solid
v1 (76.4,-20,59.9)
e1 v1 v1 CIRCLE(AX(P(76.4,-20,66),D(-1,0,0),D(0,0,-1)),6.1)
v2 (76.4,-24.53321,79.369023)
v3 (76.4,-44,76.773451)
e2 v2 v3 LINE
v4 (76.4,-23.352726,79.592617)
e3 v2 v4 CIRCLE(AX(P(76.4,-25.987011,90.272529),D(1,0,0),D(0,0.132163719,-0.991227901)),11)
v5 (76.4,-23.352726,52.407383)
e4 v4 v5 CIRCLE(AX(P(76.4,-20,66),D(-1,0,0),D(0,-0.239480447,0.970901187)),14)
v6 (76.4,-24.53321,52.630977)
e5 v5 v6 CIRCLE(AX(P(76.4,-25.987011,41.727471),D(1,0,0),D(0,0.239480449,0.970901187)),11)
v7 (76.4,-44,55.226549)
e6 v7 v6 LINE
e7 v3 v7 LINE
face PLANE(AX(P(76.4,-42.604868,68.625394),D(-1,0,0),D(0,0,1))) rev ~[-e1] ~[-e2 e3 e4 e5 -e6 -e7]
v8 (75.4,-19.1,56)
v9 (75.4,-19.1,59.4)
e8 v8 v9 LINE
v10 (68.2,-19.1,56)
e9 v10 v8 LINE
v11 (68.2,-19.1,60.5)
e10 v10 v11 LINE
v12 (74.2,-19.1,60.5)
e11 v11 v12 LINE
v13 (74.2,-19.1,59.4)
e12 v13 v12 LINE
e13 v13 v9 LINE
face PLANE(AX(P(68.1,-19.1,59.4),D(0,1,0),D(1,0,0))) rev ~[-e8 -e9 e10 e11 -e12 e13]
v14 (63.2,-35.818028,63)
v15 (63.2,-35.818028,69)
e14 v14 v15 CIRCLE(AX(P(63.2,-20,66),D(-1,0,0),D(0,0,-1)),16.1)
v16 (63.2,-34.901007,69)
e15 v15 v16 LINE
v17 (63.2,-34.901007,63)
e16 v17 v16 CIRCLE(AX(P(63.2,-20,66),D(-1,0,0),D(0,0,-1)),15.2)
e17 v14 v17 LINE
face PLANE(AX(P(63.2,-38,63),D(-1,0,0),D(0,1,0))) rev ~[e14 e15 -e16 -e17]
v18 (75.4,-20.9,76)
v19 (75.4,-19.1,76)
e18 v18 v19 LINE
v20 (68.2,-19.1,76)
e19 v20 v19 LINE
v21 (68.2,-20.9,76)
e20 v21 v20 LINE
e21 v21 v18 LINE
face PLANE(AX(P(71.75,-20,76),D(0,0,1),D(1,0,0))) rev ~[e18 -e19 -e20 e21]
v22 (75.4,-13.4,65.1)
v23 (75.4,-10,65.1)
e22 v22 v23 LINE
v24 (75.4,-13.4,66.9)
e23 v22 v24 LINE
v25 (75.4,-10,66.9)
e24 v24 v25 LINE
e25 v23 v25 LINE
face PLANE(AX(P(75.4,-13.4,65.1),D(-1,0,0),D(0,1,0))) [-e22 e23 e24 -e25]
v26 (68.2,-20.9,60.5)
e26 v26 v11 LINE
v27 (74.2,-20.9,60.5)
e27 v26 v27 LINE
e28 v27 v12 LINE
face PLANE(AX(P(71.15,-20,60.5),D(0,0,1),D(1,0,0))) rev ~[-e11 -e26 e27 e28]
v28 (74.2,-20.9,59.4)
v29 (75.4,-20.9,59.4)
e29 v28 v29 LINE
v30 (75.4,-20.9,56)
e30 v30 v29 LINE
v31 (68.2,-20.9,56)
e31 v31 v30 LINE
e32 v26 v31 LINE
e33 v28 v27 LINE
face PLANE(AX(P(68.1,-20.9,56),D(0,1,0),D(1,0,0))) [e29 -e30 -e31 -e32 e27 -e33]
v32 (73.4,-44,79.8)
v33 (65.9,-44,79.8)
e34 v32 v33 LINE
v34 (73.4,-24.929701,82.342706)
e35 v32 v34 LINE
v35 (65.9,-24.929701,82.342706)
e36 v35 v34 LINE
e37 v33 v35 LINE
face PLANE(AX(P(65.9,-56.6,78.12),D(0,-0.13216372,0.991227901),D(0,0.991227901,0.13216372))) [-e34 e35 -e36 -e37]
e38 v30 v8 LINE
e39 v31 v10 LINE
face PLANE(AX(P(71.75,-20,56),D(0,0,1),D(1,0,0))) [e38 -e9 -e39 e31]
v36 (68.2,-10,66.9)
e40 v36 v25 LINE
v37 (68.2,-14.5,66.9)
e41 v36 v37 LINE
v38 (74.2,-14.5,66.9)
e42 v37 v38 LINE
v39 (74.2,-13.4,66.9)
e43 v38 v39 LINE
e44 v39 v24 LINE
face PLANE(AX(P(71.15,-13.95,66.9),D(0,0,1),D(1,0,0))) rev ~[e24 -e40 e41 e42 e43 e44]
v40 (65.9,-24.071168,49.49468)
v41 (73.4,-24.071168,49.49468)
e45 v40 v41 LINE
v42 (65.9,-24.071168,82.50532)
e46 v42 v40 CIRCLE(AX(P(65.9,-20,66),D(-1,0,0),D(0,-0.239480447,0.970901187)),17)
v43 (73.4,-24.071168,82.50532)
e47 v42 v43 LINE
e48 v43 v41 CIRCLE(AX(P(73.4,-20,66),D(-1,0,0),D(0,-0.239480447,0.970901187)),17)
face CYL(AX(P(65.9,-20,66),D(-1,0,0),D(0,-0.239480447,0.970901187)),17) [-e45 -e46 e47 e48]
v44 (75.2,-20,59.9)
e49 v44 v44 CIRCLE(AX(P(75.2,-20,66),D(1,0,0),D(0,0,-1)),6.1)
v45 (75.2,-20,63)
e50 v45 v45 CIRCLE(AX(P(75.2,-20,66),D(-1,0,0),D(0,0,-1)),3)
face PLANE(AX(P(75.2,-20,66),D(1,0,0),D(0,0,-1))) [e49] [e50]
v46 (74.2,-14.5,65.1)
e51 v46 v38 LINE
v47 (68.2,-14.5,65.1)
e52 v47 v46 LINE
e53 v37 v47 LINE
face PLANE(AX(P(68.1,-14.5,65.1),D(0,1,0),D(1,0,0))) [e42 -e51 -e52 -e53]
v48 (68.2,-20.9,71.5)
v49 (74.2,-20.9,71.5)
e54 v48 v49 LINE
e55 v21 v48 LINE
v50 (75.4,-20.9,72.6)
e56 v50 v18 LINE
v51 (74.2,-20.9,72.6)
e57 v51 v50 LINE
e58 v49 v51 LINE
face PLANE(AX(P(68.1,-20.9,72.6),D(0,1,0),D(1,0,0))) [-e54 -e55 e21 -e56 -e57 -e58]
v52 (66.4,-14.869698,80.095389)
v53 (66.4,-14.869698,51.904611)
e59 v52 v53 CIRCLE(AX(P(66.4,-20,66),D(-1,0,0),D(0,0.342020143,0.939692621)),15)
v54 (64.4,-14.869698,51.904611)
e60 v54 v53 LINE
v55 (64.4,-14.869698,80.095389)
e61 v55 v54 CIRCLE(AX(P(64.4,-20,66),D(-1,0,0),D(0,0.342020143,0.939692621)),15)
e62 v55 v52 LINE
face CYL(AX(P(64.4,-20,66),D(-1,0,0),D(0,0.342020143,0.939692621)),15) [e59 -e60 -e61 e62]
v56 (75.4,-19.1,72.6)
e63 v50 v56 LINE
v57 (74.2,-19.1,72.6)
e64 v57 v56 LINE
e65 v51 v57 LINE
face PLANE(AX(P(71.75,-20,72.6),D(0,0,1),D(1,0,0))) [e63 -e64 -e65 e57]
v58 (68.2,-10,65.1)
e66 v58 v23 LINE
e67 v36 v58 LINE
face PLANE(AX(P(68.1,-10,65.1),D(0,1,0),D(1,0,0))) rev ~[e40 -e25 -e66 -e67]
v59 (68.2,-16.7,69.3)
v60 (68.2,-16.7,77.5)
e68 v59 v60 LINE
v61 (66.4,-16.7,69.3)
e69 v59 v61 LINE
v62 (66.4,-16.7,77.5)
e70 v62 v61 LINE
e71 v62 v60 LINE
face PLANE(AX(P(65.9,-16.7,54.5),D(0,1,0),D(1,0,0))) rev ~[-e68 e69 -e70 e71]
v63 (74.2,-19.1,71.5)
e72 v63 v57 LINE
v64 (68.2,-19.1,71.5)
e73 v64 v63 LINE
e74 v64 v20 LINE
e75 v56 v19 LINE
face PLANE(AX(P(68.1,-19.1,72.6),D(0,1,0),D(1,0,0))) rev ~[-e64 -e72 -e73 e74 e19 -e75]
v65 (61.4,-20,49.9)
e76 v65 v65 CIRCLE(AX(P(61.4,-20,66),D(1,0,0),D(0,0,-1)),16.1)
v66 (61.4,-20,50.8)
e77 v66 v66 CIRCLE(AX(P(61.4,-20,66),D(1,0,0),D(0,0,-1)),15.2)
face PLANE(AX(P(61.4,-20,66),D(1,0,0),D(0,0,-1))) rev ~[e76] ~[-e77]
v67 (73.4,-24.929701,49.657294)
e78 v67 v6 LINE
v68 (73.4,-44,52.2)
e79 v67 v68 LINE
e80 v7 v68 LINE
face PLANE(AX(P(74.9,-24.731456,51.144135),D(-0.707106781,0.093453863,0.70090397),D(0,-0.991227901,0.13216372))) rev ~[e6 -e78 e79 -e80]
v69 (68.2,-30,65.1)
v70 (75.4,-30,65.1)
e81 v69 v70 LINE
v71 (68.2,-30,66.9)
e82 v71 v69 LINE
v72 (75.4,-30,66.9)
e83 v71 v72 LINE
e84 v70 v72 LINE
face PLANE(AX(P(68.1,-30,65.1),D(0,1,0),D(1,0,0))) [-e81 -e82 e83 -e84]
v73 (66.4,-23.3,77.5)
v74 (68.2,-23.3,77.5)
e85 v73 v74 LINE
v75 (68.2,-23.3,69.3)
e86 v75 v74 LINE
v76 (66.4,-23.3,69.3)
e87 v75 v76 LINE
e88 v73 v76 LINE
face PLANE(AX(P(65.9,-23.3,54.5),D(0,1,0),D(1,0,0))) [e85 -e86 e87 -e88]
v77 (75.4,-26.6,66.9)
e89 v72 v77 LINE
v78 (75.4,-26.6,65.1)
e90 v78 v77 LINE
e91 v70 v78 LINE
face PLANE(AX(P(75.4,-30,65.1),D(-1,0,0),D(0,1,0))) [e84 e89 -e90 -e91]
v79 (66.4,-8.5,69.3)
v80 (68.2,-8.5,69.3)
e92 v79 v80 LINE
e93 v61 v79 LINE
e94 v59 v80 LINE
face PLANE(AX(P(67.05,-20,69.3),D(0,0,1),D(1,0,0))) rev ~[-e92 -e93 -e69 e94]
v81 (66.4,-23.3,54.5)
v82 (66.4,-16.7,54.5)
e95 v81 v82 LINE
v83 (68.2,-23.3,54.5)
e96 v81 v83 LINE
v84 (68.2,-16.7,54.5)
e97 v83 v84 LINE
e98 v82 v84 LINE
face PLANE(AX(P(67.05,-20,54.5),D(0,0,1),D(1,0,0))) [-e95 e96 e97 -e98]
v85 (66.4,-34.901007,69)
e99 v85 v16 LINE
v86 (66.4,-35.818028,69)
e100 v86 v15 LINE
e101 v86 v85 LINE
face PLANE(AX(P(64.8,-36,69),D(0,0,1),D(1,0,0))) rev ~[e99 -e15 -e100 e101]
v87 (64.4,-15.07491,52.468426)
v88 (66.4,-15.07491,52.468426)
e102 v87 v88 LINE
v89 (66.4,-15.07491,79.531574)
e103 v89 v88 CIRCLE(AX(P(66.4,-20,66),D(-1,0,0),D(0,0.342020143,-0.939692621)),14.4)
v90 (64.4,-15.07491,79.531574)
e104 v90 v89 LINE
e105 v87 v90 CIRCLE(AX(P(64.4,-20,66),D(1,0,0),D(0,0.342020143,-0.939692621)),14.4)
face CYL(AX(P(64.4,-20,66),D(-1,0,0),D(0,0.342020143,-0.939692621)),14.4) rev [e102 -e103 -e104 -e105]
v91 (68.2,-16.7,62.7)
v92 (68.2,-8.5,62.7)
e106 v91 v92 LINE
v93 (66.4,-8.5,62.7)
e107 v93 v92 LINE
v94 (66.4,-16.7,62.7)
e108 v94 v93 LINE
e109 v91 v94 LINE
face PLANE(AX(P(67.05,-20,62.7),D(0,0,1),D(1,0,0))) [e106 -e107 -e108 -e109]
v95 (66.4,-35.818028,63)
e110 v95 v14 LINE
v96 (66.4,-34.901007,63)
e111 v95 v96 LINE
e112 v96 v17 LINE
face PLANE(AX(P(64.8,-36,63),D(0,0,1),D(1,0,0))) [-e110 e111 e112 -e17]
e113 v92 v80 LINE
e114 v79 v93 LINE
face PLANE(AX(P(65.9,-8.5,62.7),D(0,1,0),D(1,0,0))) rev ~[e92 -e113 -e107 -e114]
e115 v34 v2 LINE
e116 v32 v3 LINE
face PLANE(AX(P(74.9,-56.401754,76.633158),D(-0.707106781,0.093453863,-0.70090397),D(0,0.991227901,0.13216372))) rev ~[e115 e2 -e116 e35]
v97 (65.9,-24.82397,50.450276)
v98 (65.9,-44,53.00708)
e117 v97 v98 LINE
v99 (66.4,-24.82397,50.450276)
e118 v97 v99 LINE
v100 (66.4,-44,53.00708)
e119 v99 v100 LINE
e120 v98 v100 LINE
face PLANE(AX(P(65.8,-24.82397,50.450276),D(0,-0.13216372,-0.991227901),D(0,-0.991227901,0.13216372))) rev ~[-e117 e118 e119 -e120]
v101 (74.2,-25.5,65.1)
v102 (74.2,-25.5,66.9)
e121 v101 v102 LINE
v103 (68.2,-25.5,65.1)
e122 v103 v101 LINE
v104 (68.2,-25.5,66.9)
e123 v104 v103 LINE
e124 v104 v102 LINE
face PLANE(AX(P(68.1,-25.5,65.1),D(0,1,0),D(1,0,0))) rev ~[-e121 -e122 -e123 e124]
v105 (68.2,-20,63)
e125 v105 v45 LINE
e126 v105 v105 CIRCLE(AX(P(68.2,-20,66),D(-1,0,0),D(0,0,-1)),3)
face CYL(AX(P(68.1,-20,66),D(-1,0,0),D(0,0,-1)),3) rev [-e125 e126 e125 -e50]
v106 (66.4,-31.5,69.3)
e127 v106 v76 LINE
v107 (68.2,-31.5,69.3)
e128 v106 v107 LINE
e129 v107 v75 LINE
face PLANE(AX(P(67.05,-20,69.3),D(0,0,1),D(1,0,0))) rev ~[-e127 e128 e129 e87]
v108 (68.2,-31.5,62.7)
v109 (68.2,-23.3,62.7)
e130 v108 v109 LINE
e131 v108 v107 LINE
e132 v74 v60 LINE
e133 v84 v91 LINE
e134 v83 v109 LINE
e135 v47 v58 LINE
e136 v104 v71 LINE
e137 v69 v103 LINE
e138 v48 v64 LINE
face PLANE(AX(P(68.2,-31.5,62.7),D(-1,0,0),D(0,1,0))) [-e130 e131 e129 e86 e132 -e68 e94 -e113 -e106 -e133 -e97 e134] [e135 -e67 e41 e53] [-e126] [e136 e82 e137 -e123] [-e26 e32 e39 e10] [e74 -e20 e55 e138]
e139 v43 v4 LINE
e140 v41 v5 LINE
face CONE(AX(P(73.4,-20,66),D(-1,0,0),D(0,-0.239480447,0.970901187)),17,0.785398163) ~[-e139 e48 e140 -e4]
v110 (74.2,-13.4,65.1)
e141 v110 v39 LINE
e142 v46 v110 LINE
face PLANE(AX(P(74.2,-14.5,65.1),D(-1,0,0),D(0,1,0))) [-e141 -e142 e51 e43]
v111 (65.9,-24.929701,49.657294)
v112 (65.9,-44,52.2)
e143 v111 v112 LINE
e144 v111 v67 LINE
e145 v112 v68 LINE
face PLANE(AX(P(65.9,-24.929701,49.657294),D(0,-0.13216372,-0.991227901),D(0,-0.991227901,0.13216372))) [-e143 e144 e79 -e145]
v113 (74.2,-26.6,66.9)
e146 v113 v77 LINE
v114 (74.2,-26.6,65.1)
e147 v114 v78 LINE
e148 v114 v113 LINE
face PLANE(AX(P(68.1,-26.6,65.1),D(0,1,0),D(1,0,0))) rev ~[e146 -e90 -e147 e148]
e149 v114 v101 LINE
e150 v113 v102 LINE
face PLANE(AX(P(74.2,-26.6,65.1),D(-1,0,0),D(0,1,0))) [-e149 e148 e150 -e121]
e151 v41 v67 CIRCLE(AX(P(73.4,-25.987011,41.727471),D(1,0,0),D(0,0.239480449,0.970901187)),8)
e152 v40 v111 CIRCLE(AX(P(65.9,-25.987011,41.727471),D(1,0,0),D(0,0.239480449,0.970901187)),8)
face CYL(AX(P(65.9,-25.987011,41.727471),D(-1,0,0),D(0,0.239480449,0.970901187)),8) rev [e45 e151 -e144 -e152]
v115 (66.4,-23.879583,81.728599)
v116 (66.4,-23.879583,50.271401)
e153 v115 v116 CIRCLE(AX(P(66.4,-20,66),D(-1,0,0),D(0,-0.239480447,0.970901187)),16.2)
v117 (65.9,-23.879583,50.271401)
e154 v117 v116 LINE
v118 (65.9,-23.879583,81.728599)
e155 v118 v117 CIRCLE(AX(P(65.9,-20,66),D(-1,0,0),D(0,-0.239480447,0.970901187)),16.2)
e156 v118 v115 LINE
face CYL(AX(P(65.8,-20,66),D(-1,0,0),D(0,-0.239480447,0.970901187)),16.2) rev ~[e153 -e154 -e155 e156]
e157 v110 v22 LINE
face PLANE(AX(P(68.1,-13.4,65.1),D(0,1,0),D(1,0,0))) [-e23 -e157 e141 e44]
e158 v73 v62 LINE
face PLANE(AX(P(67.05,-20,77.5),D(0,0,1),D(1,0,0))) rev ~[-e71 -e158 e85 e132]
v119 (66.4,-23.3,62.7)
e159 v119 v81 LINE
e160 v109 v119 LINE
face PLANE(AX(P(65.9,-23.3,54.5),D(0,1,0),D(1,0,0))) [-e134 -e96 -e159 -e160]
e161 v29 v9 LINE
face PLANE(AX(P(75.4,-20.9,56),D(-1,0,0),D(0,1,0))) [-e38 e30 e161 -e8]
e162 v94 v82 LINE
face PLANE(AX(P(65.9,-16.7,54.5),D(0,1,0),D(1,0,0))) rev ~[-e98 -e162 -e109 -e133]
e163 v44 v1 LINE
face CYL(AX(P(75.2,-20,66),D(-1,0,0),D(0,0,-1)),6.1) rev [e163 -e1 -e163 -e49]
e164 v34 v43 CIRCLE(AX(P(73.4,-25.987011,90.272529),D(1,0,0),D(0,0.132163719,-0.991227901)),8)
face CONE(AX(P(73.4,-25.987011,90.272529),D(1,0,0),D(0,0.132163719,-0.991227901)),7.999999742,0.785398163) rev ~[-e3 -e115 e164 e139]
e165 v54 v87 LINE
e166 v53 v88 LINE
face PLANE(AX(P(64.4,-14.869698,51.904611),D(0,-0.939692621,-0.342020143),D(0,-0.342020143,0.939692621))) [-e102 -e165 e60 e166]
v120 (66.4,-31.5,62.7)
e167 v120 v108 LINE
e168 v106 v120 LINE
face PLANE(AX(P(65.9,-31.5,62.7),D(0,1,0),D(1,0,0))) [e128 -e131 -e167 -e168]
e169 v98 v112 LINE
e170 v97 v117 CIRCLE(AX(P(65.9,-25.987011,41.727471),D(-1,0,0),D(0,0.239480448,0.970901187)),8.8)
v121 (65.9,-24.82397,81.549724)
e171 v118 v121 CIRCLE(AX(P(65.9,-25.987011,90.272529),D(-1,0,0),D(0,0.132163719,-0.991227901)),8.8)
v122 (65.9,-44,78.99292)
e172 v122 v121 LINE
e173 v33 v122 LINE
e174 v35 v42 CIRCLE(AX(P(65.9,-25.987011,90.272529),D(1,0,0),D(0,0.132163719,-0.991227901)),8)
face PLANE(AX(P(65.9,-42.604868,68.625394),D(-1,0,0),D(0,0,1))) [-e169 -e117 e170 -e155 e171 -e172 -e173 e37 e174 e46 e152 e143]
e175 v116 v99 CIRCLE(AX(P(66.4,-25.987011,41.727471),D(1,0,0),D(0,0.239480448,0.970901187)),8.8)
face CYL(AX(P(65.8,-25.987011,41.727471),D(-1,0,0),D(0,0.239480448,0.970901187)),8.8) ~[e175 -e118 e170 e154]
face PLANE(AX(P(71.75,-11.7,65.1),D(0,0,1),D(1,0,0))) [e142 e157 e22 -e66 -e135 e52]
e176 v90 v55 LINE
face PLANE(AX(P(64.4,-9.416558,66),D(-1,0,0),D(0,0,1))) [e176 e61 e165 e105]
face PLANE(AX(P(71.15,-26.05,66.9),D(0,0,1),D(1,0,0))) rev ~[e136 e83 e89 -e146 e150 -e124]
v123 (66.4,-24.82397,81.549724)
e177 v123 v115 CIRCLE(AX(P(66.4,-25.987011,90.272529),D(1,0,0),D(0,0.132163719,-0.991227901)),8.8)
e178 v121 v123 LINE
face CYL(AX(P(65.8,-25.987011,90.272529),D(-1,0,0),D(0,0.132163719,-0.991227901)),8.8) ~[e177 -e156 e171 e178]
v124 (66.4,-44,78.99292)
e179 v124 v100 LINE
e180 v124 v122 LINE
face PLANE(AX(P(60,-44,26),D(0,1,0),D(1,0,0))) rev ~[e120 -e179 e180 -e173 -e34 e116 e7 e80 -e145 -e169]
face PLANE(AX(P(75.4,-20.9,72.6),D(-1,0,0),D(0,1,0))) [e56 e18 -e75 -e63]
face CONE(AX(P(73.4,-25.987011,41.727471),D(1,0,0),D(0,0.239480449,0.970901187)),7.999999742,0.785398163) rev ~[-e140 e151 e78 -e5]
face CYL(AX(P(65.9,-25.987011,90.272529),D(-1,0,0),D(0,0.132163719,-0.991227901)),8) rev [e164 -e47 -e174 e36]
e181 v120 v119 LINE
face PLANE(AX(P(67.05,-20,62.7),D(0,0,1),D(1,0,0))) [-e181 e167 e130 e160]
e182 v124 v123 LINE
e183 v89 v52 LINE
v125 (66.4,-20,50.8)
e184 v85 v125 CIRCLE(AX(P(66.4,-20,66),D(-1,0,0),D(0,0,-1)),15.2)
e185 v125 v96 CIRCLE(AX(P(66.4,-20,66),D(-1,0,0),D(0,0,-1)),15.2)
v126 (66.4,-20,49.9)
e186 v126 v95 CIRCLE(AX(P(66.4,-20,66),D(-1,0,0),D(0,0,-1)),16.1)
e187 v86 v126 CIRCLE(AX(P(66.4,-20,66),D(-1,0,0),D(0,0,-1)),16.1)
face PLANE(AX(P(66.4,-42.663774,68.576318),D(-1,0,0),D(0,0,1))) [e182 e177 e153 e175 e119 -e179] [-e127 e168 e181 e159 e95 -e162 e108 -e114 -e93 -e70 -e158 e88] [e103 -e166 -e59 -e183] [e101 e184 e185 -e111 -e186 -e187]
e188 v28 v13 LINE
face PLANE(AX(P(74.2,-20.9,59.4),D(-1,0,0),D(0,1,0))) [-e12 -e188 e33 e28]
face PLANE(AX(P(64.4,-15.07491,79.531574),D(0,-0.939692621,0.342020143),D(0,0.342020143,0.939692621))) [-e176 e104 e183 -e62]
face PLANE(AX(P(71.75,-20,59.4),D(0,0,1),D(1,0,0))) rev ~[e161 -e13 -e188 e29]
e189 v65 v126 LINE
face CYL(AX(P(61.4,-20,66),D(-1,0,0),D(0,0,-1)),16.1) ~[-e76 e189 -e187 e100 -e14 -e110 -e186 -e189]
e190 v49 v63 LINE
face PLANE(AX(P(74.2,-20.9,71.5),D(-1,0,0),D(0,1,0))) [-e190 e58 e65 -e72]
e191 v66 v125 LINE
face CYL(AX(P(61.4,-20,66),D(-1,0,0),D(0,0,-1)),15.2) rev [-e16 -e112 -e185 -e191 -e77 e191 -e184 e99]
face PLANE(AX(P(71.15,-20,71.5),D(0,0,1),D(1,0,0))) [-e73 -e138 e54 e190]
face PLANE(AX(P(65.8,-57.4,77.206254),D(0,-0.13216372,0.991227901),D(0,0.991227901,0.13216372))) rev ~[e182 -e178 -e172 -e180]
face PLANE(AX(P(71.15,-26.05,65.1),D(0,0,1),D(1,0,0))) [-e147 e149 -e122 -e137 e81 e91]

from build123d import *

# Parameters (mm, degrees)
BOSS_EXTRUDE1_START  = 65.9
BOSS_EXTRUDE1_DEPTH  = 10.5
BOSS_EXTRUDE2_START  = 65.8
BOSS_EXTRUDE2_DEPTH  = 0.6
CHAMFER1_SIZE        = 3
CHAMFER2_SIZE        = 3
BOSS_EXTRUDE3_START  = 62.7
SKETCH3_W            = 2.3
SKETCH3_H            = 23
BOSS_EXTRUDE3_DEPTH  = 6.6
BOSS_EXTRUDE4_START  = 54.5
SKETCH4_W            = 2.3
SKETCH4_H            = 6.6
BOSS_EXTRUDE4_DEPTH  = 23
BOSS_EXTRUDE5_START  = 65.9
SKETCH5_R            = 4.6
BOSS_EXTRUDE5_DEPTH  = 2.3
BOSS_EXTRUDE6_START  = 75.2
SKETCH6_R            = 6.1
BOSS_EXTRUDE6_DEPTH  = 1.7
BOSS_EXTRUDE7_START  = 68.1
SKETCH7_R            = 3
BOSS_EXTRUDE7_DEPTH  = 7.2
BOSS_EXTRUDE8_START  = 65.1
SKETCH8_W            = 6.1
SKETCH8_H            = 1.1
BOSS_EXTRUDE8_DEPTH  = 1.8
BOSS_EXTRUDE9_START  = 71.5
SKETCH9_W            = 6.1
SKETCH9_H            = 1.8
BOSS_EXTRUDE9_DEPTH  = 1.1
BOSS_EXTRUDE10_START = 65.1
SKETCH10_W           = 6.1
SKETCH10_H           = 1.1
BOSS_EXTRUDE10_DEPTH = 1.8
BOSS_EXTRUDE11_START = 59.4
SKETCH11_W           = 6.1
SKETCH11_H           = 1.8
BOSS_EXTRUDE11_DEPTH = 1.1
BOSS_EXTRUDE12_START = 65.1
SKETCH12_W           = 7.3
SKETCH12_H           = 3.4
BOSS_EXTRUDE12_DEPTH = 1.8
BOSS_EXTRUDE13_START = 72.6
SKETCH13_W           = 7.3
SKETCH13_H           = 1.8
BOSS_EXTRUDE13_DEPTH = 3.4
BOSS_EXTRUDE14_START = 65.1
SKETCH14_W           = 7.3
SKETCH14_H           = 3.4
BOSS_EXTRUDE14_DEPTH = 1.8
BOSS_EXTRUDE15_START = 56
SKETCH15_W           = 7.3
SKETCH15_H           = 1.8
BOSS_EXTRUDE15_DEPTH = 3.4
BOSS_EXTRUDE16_START = 64.4
BOSS_EXTRUDE16_DEPTH = 2.05
BOSS_EXTRUDE17_START = 61.4
SKETCH17_R           = 16.1
SKETCH17_R_2         = 15.2
BOSS_EXTRUDE17_DEPTH = 5.05
BOSS_EXTRUDE18_START = 63
SKETCH18_W           = 3.2
SKETCH18_H           = 4
BOSS_EXTRUDE18_DEPTH = 6
BOSS_EXTRUDE19_START = 26
SKETCH19_W           = 20
SKETCH19_H           = 56
BOSS_EXTRUDE19_DEPTH = 80


with BuildPart() as part:
    # Sketch1 → Boss-Extrude1 (new body)
    with BuildSketch(Plane(origin=(0, 0, 0), x_dir=(0, 0, -1), z_dir=(1, 0, 0)).offset(BOSS_EXTRUDE1_START)):
        with BuildLine():
            Line((-49.657293521, -24.929701405), (-54.04649339, -57.848700423))
            ThreePointArc((-54.04649339, -57.848700423), (-53.234221048, -59.119126346), (-52.95, -60.6))
            Line((-52.95, -60.6), (-52.95, -69.4))
            ThreePointArc((-52.95, -69.4), (-54.121572875, -72.228427125), (-56.95, -73.4))
            Line((-56.95, -73.4), (-85.85, -73.4))
            ThreePointArc((-85.85, -73.4), (-88.678427125, -72.228427125), (-89.85, -69.4))
            Line((-89.85, -69.4), (-89.85, -60.6))
            ThreePointArc((-89.85, -60.6), (-88.678427125, -57.771572875), (-85.85, -56.6))
            Line((-85.85, -56.6), (-78.12, -56.6))
            Line((-78.12, -56.6), (-82.342706479, -24.929701405))
            ThreePointArc((-82.342706479, -24.929701405), (-82.412282932, -24.49821266), (-82.505320186, -24.071167593))
            ThreePointArc((-82.505320186, -24.071167593), (-66, -3), (-49.494679814, -24.071167593))
            ThreePointArc((-49.494679814, -24.071167593), (-49.587717068, -24.49821266), (-49.657293521, -24.929701405))
        make_face()
    extrude(amount=BOSS_EXTRUDE1_DEPTH)


with BuildPart() as body_2:
    # Sketch2 → Boss-Extrude2 (new body)
    with BuildSketch(Plane(origin=(0, 0, 0), x_dir=(0, 0, -1), z_dir=(1, 0, 0)).offset(BOSS_EXTRUDE2_START)):
        with BuildLine():
            Line((-50.450275841, -24.823970429), (-54.893518409, -58.148289686))
            ThreePointArc((-54.893518409, -58.148289686), (-54.049936113, -59.247362039), (-53.75, -60.6))
            Line((-53.75, -60.6), (-53.75, -69.4))
            ThreePointArc((-53.75, -69.4), (-54.6872583, -71.6627417), (-56.95, -72.6))
            Line((-56.95, -72.6), (-85.85, -72.6))
            ThreePointArc((-85.85, -72.6), (-88.1127417, -71.6627417), (-89.05, -69.4))
            Line((-89.05, -69.4), (-89.05, -60.6))
            ThreePointArc((-89.05, -60.6), (-88.1127417, -58.3372583), (-85.85, -57.4))
            Line((-85.85, -57.4), (-77.206253549, -57.4))
            Line((-77.206253549, -57.4), (-81.549724159, -24.823970429))
            ThreePointArc((-81.549724159, -24.823970429), (-81.626258257, -24.34933281), (-81.728599236, -23.879583236))
            ThreePointArc((-81.728599236, -23.879583236), (-66, -3.8), (-50.271400764, -23.879583236))
            ThreePointArc((-50.271400764, -23.879583236), (-50.373741743, -24.34933281), (-50.450275841, -24.823970429))
        make_face()
    extrude(amount=BOSS_EXTRUDE2_DEPTH)


with BuildPart() as part_1:
    add(part.part)

    # Combine1: cut body 2
    add(body_2.part, mode=Mode.SUBTRACT)

    # Chamfer1
    chamfer1_edges = [part_1.edges().sort_by_distance(p)[0] for p in [
        (76.4, -41.389200914, 51.851893455),
        (76.4, -24.49821266, 49.587717068),
        (76.4, -24.49821266, 82.412282932),
        (76.4, -3, 66),
        (76.4, -40.764850703, 80.23135324),
    ]]
    chamfer(chamfer1_edges, length=CHAMFER1_SIZE)

    # Chamfer2
    chamfer2_edges = [part_1.edges().sort_by_distance(p)[0] for p in [
        (76.4, -56.6, 80.471725405),
        (76.4, -57.771572875, 88.678427125),
        (76.4, -57.786965833, 54.106263237),
        (76.4, -65, 89.85),
        (76.4, -65, 52.95),
        (76.4, -72.228427125, 88.678427125),
        (76.4, -72.228427125, 54.121572875),
        (76.4, -73.4, 71.4),
    ]]
    chamfer(chamfer2_edges, length=CHAMFER2_SIZE)


with BuildPart() as body_2_2:
    # Sketch3 → Boss-Extrude3 (new body)
    with BuildSketch(Plane.XY.offset(BOSS_EXTRUDE3_START)):
        with Locations((67.05, -20)):
            Rectangle(SKETCH3_W, SKETCH3_H)
    extrude(amount=BOSS_EXTRUDE3_DEPTH)


with BuildPart() as part_2:
    add(part_1.part)

    # Combine2: cut body 2 2
    add(body_2_2.part, mode=Mode.SUBTRACT)


with BuildPart() as body_2_3:
    # Sketch4 → Boss-Extrude4 (new body)
    with BuildSketch(Plane.XY.offset(BOSS_EXTRUDE4_START)):
        with Locations((67.05, -20)):
            Rectangle(SKETCH4_W, SKETCH4_H)
    extrude(amount=BOSS_EXTRUDE4_DEPTH)


with BuildPart() as part_3:
    add(part_2.part)

    # Combine3: cut body 2 3
    add(body_2_3.part, mode=Mode.SUBTRACT)


with BuildPart() as body_2_4:
    # Sketch5 → Boss-Extrude5 (new body)
    with BuildSketch(Plane(origin=(0, 0, 0), x_dir=(0, 0, -1), z_dir=(1, 0, 0)).offset(BOSS_EXTRUDE5_START)):
        with Locations((-66, -20)):
            Circle(SKETCH5_R)
    extrude(amount=BOSS_EXTRUDE5_DEPTH)


with BuildPart() as part_4:
    add(part_3.part)

    # Combine4: cut body 2 4
    add(body_2_4.part, mode=Mode.SUBTRACT)


with BuildPart() as body_2_5:
    # Sketch6 → Boss-Extrude6 (new body)
    with BuildSketch(Plane(origin=(0, 0, 0), x_dir=(0, 0, -1), z_dir=(1, 0, 0)).offset(BOSS_EXTRUDE6_START)):
        with Locations((-66, -20)):
            Circle(SKETCH6_R)
    extrude(amount=BOSS_EXTRUDE6_DEPTH)


with BuildPart() as part_5:
    add(part_4.part)

    # Combine5: cut body 2 5
    add(body_2_5.part, mode=Mode.SUBTRACT)


with BuildPart() as body_2_6:
    # Sketch7 → Boss-Extrude7 (new body)
    with BuildSketch(Plane(origin=(0, 0, 0), x_dir=(0, 0, -1), z_dir=(1, 0, 0)).offset(BOSS_EXTRUDE7_START)):
        with Locations((-66, -20)):
            Circle(SKETCH7_R)
    extrude(amount=BOSS_EXTRUDE7_DEPTH)


with BuildPart() as part_6:
    add(part_5.part)

    # Combine6: cut body 2 6
    add(body_2_6.part, mode=Mode.SUBTRACT)


with BuildPart() as body_2_7:
    # Sketch8 → Boss-Extrude8 (new body)
    with BuildSketch(Plane.XY.offset(BOSS_EXTRUDE8_START)):
        with Locations((71.15, -13.95)):
            Rectangle(SKETCH8_W, SKETCH8_H)
    extrude(amount=BOSS_EXTRUDE8_DEPTH)


with BuildPart() as part_7:
    add(part_6.part)

    # Combine7: cut body 2 7
    add(body_2_7.part, mode=Mode.SUBTRACT)


with BuildPart() as body_2_8:
    # Sketch9 → Boss-Extrude9 (new body)
    with BuildSketch(Plane.XY.offset(BOSS_EXTRUDE9_START)):
        with Locations((71.15, -20)):
            Rectangle(SKETCH9_W, SKETCH9_H)
    extrude(amount=BOSS_EXTRUDE9_DEPTH)


with BuildPart() as part_8:
    add(part_7.part)

    # Combine8: cut body 2 8
    add(body_2_8.part, mode=Mode.SUBTRACT)


with BuildPart() as body_2_9:
    # Sketch10 → Boss-Extrude10 (new body)
    with BuildSketch(Plane.XY.offset(BOSS_EXTRUDE10_START)):
        with Locations((71.15, -26.05)):
            Rectangle(SKETCH10_W, SKETCH10_H)
    extrude(amount=BOSS_EXTRUDE10_DEPTH)


with BuildPart() as part_9:
    add(part_8.part)

    # Combine9: cut body 2 9
    add(body_2_9.part, mode=Mode.SUBTRACT)


with BuildPart() as body_2_10:
    # Sketch11 → Boss-Extrude11 (new body)
    with BuildSketch(Plane.XY.offset(BOSS_EXTRUDE11_START)):
        with Locations((71.15, -20)):
            Rectangle(SKETCH11_W, SKETCH11_H)
    extrude(amount=BOSS_EXTRUDE11_DEPTH)


with BuildPart() as part_10:
    add(part_9.part)

    # Combine10: cut body 2 10
    add(body_2_10.part, mode=Mode.SUBTRACT)


with BuildPart() as body_2_11:
    # Sketch12 → Boss-Extrude12 (new body)
    with BuildSketch(Plane.XY.offset(BOSS_EXTRUDE12_START)):
        with Locations((71.75, -11.7)):
            Rectangle(SKETCH12_W, SKETCH12_H)
    extrude(amount=BOSS_EXTRUDE12_DEPTH)


with BuildPart() as part_11:
    add(part_10.part)

    # Combine11: cut body 2 11
    add(body_2_11.part, mode=Mode.SUBTRACT)


with BuildPart() as body_2_12:
    # Sketch13 → Boss-Extrude13 (new body)
    with BuildSketch(Plane.XY.offset(BOSS_EXTRUDE13_START)):
        with Locations((71.75, -20)):
            Rectangle(SKETCH13_W, SKETCH13_H)
    extrude(amount=BOSS_EXTRUDE13_DEPTH)


with BuildPart() as part_12:
    add(part_11.part)

    # Combine12: cut body 2 12
    add(body_2_12.part, mode=Mode.SUBTRACT)


with BuildPart() as body_2_13:
    # Sketch14 → Boss-Extrude14 (new body)
    with BuildSketch(Plane.XY.offset(BOSS_EXTRUDE14_START)):
        with Locations((71.75, -28.3)):
            Rectangle(SKETCH14_W, SKETCH14_H)
    extrude(amount=BOSS_EXTRUDE14_DEPTH)


with BuildPart() as part_13:
    add(part_12.part)

    # Combine13: cut body 2 13
    add(body_2_13.part, mode=Mode.SUBTRACT)


with BuildPart() as body_2_14:
    # Sketch15 → Boss-Extrude15 (new body)
    with BuildSketch(Plane.XY.offset(BOSS_EXTRUDE15_START)):
        with Locations((71.75, -20)):
            Rectangle(SKETCH15_W, SKETCH15_H)
    extrude(amount=BOSS_EXTRUDE15_DEPTH)


with BuildPart() as part_14:
    add(part_13.part)

    # Combine14: cut body 2 14
    add(body_2_14.part, mode=Mode.SUBTRACT)

    # Sketch16 → Boss-Extrude16 (add)
    with BuildSketch(Plane(origin=(0, 0, 0), x_dir=(0, 0, -1), z_dir=(1, 0, 0)).offset(BOSS_EXTRUDE16_START)):
        with BuildLine():
            Line((-51.904610688, -14.86969785), (-52.468426261, -15.074909936))
            ThreePointArc((-52.468426261, -15.074909936), (-66, -5.6), (-79.531573739, -15.074909936))
            Line((-79.531573739, -15.074909936), (-80.095389312, -14.86969785))
            ThreePointArc((-80.095389312, -14.86969785), (-66, -5), (-51.904610688, -14.86969785))
        make_face()
    extrude(amount=BOSS_EXTRUDE16_DEPTH)

    # Sketch17 → Boss-Extrude17 (add)
    with BuildSketch(Plane(origin=(0, 0, 0), x_dir=(0, 0, -1), z_dir=(1, 0, 0)).offset(BOSS_EXTRUDE17_START)):
        with Locations((-66, -20)):
            Circle(SKETCH17_R)
        with Locations((-66, -20)):
            Circle(SKETCH17_R_2, mode=Mode.SUBTRACT)
    extrude(amount=BOSS_EXTRUDE17_DEPTH)


with BuildPart() as body_2_15:
    # Sketch18 → Boss-Extrude18 (new body)
    with BuildSketch(Plane.XY.offset(BOSS_EXTRUDE18_START)):
        with Locations((64.8, -36)):
            Rectangle(SKETCH18_W, SKETCH18_H)
    extrude(amount=BOSS_EXTRUDE18_DEPTH)


with BuildPart() as part_15:
    add(part_14.part)

    # Combine15: cut body 2 15
    add(body_2_15.part, mode=Mode.SUBTRACT)


with BuildPart() as body_2_16:
    # Sketch19 → Boss-Extrude19 (new body)
    with BuildSketch(Plane.XY.offset(BOSS_EXTRUDE19_START)):
        with Locations((70, -72)):
            Rectangle(SKETCH19_W, SKETCH19_H)
    extrude(amount=BOSS_EXTRUDE19_DEPTH)


with BuildPart() as part_16:
    add(part_15.part)

    # Combine16: cut body 2 16
    add(body_2_16.part, mode=Mode.SUBTRACT)


solid = part_16.part
